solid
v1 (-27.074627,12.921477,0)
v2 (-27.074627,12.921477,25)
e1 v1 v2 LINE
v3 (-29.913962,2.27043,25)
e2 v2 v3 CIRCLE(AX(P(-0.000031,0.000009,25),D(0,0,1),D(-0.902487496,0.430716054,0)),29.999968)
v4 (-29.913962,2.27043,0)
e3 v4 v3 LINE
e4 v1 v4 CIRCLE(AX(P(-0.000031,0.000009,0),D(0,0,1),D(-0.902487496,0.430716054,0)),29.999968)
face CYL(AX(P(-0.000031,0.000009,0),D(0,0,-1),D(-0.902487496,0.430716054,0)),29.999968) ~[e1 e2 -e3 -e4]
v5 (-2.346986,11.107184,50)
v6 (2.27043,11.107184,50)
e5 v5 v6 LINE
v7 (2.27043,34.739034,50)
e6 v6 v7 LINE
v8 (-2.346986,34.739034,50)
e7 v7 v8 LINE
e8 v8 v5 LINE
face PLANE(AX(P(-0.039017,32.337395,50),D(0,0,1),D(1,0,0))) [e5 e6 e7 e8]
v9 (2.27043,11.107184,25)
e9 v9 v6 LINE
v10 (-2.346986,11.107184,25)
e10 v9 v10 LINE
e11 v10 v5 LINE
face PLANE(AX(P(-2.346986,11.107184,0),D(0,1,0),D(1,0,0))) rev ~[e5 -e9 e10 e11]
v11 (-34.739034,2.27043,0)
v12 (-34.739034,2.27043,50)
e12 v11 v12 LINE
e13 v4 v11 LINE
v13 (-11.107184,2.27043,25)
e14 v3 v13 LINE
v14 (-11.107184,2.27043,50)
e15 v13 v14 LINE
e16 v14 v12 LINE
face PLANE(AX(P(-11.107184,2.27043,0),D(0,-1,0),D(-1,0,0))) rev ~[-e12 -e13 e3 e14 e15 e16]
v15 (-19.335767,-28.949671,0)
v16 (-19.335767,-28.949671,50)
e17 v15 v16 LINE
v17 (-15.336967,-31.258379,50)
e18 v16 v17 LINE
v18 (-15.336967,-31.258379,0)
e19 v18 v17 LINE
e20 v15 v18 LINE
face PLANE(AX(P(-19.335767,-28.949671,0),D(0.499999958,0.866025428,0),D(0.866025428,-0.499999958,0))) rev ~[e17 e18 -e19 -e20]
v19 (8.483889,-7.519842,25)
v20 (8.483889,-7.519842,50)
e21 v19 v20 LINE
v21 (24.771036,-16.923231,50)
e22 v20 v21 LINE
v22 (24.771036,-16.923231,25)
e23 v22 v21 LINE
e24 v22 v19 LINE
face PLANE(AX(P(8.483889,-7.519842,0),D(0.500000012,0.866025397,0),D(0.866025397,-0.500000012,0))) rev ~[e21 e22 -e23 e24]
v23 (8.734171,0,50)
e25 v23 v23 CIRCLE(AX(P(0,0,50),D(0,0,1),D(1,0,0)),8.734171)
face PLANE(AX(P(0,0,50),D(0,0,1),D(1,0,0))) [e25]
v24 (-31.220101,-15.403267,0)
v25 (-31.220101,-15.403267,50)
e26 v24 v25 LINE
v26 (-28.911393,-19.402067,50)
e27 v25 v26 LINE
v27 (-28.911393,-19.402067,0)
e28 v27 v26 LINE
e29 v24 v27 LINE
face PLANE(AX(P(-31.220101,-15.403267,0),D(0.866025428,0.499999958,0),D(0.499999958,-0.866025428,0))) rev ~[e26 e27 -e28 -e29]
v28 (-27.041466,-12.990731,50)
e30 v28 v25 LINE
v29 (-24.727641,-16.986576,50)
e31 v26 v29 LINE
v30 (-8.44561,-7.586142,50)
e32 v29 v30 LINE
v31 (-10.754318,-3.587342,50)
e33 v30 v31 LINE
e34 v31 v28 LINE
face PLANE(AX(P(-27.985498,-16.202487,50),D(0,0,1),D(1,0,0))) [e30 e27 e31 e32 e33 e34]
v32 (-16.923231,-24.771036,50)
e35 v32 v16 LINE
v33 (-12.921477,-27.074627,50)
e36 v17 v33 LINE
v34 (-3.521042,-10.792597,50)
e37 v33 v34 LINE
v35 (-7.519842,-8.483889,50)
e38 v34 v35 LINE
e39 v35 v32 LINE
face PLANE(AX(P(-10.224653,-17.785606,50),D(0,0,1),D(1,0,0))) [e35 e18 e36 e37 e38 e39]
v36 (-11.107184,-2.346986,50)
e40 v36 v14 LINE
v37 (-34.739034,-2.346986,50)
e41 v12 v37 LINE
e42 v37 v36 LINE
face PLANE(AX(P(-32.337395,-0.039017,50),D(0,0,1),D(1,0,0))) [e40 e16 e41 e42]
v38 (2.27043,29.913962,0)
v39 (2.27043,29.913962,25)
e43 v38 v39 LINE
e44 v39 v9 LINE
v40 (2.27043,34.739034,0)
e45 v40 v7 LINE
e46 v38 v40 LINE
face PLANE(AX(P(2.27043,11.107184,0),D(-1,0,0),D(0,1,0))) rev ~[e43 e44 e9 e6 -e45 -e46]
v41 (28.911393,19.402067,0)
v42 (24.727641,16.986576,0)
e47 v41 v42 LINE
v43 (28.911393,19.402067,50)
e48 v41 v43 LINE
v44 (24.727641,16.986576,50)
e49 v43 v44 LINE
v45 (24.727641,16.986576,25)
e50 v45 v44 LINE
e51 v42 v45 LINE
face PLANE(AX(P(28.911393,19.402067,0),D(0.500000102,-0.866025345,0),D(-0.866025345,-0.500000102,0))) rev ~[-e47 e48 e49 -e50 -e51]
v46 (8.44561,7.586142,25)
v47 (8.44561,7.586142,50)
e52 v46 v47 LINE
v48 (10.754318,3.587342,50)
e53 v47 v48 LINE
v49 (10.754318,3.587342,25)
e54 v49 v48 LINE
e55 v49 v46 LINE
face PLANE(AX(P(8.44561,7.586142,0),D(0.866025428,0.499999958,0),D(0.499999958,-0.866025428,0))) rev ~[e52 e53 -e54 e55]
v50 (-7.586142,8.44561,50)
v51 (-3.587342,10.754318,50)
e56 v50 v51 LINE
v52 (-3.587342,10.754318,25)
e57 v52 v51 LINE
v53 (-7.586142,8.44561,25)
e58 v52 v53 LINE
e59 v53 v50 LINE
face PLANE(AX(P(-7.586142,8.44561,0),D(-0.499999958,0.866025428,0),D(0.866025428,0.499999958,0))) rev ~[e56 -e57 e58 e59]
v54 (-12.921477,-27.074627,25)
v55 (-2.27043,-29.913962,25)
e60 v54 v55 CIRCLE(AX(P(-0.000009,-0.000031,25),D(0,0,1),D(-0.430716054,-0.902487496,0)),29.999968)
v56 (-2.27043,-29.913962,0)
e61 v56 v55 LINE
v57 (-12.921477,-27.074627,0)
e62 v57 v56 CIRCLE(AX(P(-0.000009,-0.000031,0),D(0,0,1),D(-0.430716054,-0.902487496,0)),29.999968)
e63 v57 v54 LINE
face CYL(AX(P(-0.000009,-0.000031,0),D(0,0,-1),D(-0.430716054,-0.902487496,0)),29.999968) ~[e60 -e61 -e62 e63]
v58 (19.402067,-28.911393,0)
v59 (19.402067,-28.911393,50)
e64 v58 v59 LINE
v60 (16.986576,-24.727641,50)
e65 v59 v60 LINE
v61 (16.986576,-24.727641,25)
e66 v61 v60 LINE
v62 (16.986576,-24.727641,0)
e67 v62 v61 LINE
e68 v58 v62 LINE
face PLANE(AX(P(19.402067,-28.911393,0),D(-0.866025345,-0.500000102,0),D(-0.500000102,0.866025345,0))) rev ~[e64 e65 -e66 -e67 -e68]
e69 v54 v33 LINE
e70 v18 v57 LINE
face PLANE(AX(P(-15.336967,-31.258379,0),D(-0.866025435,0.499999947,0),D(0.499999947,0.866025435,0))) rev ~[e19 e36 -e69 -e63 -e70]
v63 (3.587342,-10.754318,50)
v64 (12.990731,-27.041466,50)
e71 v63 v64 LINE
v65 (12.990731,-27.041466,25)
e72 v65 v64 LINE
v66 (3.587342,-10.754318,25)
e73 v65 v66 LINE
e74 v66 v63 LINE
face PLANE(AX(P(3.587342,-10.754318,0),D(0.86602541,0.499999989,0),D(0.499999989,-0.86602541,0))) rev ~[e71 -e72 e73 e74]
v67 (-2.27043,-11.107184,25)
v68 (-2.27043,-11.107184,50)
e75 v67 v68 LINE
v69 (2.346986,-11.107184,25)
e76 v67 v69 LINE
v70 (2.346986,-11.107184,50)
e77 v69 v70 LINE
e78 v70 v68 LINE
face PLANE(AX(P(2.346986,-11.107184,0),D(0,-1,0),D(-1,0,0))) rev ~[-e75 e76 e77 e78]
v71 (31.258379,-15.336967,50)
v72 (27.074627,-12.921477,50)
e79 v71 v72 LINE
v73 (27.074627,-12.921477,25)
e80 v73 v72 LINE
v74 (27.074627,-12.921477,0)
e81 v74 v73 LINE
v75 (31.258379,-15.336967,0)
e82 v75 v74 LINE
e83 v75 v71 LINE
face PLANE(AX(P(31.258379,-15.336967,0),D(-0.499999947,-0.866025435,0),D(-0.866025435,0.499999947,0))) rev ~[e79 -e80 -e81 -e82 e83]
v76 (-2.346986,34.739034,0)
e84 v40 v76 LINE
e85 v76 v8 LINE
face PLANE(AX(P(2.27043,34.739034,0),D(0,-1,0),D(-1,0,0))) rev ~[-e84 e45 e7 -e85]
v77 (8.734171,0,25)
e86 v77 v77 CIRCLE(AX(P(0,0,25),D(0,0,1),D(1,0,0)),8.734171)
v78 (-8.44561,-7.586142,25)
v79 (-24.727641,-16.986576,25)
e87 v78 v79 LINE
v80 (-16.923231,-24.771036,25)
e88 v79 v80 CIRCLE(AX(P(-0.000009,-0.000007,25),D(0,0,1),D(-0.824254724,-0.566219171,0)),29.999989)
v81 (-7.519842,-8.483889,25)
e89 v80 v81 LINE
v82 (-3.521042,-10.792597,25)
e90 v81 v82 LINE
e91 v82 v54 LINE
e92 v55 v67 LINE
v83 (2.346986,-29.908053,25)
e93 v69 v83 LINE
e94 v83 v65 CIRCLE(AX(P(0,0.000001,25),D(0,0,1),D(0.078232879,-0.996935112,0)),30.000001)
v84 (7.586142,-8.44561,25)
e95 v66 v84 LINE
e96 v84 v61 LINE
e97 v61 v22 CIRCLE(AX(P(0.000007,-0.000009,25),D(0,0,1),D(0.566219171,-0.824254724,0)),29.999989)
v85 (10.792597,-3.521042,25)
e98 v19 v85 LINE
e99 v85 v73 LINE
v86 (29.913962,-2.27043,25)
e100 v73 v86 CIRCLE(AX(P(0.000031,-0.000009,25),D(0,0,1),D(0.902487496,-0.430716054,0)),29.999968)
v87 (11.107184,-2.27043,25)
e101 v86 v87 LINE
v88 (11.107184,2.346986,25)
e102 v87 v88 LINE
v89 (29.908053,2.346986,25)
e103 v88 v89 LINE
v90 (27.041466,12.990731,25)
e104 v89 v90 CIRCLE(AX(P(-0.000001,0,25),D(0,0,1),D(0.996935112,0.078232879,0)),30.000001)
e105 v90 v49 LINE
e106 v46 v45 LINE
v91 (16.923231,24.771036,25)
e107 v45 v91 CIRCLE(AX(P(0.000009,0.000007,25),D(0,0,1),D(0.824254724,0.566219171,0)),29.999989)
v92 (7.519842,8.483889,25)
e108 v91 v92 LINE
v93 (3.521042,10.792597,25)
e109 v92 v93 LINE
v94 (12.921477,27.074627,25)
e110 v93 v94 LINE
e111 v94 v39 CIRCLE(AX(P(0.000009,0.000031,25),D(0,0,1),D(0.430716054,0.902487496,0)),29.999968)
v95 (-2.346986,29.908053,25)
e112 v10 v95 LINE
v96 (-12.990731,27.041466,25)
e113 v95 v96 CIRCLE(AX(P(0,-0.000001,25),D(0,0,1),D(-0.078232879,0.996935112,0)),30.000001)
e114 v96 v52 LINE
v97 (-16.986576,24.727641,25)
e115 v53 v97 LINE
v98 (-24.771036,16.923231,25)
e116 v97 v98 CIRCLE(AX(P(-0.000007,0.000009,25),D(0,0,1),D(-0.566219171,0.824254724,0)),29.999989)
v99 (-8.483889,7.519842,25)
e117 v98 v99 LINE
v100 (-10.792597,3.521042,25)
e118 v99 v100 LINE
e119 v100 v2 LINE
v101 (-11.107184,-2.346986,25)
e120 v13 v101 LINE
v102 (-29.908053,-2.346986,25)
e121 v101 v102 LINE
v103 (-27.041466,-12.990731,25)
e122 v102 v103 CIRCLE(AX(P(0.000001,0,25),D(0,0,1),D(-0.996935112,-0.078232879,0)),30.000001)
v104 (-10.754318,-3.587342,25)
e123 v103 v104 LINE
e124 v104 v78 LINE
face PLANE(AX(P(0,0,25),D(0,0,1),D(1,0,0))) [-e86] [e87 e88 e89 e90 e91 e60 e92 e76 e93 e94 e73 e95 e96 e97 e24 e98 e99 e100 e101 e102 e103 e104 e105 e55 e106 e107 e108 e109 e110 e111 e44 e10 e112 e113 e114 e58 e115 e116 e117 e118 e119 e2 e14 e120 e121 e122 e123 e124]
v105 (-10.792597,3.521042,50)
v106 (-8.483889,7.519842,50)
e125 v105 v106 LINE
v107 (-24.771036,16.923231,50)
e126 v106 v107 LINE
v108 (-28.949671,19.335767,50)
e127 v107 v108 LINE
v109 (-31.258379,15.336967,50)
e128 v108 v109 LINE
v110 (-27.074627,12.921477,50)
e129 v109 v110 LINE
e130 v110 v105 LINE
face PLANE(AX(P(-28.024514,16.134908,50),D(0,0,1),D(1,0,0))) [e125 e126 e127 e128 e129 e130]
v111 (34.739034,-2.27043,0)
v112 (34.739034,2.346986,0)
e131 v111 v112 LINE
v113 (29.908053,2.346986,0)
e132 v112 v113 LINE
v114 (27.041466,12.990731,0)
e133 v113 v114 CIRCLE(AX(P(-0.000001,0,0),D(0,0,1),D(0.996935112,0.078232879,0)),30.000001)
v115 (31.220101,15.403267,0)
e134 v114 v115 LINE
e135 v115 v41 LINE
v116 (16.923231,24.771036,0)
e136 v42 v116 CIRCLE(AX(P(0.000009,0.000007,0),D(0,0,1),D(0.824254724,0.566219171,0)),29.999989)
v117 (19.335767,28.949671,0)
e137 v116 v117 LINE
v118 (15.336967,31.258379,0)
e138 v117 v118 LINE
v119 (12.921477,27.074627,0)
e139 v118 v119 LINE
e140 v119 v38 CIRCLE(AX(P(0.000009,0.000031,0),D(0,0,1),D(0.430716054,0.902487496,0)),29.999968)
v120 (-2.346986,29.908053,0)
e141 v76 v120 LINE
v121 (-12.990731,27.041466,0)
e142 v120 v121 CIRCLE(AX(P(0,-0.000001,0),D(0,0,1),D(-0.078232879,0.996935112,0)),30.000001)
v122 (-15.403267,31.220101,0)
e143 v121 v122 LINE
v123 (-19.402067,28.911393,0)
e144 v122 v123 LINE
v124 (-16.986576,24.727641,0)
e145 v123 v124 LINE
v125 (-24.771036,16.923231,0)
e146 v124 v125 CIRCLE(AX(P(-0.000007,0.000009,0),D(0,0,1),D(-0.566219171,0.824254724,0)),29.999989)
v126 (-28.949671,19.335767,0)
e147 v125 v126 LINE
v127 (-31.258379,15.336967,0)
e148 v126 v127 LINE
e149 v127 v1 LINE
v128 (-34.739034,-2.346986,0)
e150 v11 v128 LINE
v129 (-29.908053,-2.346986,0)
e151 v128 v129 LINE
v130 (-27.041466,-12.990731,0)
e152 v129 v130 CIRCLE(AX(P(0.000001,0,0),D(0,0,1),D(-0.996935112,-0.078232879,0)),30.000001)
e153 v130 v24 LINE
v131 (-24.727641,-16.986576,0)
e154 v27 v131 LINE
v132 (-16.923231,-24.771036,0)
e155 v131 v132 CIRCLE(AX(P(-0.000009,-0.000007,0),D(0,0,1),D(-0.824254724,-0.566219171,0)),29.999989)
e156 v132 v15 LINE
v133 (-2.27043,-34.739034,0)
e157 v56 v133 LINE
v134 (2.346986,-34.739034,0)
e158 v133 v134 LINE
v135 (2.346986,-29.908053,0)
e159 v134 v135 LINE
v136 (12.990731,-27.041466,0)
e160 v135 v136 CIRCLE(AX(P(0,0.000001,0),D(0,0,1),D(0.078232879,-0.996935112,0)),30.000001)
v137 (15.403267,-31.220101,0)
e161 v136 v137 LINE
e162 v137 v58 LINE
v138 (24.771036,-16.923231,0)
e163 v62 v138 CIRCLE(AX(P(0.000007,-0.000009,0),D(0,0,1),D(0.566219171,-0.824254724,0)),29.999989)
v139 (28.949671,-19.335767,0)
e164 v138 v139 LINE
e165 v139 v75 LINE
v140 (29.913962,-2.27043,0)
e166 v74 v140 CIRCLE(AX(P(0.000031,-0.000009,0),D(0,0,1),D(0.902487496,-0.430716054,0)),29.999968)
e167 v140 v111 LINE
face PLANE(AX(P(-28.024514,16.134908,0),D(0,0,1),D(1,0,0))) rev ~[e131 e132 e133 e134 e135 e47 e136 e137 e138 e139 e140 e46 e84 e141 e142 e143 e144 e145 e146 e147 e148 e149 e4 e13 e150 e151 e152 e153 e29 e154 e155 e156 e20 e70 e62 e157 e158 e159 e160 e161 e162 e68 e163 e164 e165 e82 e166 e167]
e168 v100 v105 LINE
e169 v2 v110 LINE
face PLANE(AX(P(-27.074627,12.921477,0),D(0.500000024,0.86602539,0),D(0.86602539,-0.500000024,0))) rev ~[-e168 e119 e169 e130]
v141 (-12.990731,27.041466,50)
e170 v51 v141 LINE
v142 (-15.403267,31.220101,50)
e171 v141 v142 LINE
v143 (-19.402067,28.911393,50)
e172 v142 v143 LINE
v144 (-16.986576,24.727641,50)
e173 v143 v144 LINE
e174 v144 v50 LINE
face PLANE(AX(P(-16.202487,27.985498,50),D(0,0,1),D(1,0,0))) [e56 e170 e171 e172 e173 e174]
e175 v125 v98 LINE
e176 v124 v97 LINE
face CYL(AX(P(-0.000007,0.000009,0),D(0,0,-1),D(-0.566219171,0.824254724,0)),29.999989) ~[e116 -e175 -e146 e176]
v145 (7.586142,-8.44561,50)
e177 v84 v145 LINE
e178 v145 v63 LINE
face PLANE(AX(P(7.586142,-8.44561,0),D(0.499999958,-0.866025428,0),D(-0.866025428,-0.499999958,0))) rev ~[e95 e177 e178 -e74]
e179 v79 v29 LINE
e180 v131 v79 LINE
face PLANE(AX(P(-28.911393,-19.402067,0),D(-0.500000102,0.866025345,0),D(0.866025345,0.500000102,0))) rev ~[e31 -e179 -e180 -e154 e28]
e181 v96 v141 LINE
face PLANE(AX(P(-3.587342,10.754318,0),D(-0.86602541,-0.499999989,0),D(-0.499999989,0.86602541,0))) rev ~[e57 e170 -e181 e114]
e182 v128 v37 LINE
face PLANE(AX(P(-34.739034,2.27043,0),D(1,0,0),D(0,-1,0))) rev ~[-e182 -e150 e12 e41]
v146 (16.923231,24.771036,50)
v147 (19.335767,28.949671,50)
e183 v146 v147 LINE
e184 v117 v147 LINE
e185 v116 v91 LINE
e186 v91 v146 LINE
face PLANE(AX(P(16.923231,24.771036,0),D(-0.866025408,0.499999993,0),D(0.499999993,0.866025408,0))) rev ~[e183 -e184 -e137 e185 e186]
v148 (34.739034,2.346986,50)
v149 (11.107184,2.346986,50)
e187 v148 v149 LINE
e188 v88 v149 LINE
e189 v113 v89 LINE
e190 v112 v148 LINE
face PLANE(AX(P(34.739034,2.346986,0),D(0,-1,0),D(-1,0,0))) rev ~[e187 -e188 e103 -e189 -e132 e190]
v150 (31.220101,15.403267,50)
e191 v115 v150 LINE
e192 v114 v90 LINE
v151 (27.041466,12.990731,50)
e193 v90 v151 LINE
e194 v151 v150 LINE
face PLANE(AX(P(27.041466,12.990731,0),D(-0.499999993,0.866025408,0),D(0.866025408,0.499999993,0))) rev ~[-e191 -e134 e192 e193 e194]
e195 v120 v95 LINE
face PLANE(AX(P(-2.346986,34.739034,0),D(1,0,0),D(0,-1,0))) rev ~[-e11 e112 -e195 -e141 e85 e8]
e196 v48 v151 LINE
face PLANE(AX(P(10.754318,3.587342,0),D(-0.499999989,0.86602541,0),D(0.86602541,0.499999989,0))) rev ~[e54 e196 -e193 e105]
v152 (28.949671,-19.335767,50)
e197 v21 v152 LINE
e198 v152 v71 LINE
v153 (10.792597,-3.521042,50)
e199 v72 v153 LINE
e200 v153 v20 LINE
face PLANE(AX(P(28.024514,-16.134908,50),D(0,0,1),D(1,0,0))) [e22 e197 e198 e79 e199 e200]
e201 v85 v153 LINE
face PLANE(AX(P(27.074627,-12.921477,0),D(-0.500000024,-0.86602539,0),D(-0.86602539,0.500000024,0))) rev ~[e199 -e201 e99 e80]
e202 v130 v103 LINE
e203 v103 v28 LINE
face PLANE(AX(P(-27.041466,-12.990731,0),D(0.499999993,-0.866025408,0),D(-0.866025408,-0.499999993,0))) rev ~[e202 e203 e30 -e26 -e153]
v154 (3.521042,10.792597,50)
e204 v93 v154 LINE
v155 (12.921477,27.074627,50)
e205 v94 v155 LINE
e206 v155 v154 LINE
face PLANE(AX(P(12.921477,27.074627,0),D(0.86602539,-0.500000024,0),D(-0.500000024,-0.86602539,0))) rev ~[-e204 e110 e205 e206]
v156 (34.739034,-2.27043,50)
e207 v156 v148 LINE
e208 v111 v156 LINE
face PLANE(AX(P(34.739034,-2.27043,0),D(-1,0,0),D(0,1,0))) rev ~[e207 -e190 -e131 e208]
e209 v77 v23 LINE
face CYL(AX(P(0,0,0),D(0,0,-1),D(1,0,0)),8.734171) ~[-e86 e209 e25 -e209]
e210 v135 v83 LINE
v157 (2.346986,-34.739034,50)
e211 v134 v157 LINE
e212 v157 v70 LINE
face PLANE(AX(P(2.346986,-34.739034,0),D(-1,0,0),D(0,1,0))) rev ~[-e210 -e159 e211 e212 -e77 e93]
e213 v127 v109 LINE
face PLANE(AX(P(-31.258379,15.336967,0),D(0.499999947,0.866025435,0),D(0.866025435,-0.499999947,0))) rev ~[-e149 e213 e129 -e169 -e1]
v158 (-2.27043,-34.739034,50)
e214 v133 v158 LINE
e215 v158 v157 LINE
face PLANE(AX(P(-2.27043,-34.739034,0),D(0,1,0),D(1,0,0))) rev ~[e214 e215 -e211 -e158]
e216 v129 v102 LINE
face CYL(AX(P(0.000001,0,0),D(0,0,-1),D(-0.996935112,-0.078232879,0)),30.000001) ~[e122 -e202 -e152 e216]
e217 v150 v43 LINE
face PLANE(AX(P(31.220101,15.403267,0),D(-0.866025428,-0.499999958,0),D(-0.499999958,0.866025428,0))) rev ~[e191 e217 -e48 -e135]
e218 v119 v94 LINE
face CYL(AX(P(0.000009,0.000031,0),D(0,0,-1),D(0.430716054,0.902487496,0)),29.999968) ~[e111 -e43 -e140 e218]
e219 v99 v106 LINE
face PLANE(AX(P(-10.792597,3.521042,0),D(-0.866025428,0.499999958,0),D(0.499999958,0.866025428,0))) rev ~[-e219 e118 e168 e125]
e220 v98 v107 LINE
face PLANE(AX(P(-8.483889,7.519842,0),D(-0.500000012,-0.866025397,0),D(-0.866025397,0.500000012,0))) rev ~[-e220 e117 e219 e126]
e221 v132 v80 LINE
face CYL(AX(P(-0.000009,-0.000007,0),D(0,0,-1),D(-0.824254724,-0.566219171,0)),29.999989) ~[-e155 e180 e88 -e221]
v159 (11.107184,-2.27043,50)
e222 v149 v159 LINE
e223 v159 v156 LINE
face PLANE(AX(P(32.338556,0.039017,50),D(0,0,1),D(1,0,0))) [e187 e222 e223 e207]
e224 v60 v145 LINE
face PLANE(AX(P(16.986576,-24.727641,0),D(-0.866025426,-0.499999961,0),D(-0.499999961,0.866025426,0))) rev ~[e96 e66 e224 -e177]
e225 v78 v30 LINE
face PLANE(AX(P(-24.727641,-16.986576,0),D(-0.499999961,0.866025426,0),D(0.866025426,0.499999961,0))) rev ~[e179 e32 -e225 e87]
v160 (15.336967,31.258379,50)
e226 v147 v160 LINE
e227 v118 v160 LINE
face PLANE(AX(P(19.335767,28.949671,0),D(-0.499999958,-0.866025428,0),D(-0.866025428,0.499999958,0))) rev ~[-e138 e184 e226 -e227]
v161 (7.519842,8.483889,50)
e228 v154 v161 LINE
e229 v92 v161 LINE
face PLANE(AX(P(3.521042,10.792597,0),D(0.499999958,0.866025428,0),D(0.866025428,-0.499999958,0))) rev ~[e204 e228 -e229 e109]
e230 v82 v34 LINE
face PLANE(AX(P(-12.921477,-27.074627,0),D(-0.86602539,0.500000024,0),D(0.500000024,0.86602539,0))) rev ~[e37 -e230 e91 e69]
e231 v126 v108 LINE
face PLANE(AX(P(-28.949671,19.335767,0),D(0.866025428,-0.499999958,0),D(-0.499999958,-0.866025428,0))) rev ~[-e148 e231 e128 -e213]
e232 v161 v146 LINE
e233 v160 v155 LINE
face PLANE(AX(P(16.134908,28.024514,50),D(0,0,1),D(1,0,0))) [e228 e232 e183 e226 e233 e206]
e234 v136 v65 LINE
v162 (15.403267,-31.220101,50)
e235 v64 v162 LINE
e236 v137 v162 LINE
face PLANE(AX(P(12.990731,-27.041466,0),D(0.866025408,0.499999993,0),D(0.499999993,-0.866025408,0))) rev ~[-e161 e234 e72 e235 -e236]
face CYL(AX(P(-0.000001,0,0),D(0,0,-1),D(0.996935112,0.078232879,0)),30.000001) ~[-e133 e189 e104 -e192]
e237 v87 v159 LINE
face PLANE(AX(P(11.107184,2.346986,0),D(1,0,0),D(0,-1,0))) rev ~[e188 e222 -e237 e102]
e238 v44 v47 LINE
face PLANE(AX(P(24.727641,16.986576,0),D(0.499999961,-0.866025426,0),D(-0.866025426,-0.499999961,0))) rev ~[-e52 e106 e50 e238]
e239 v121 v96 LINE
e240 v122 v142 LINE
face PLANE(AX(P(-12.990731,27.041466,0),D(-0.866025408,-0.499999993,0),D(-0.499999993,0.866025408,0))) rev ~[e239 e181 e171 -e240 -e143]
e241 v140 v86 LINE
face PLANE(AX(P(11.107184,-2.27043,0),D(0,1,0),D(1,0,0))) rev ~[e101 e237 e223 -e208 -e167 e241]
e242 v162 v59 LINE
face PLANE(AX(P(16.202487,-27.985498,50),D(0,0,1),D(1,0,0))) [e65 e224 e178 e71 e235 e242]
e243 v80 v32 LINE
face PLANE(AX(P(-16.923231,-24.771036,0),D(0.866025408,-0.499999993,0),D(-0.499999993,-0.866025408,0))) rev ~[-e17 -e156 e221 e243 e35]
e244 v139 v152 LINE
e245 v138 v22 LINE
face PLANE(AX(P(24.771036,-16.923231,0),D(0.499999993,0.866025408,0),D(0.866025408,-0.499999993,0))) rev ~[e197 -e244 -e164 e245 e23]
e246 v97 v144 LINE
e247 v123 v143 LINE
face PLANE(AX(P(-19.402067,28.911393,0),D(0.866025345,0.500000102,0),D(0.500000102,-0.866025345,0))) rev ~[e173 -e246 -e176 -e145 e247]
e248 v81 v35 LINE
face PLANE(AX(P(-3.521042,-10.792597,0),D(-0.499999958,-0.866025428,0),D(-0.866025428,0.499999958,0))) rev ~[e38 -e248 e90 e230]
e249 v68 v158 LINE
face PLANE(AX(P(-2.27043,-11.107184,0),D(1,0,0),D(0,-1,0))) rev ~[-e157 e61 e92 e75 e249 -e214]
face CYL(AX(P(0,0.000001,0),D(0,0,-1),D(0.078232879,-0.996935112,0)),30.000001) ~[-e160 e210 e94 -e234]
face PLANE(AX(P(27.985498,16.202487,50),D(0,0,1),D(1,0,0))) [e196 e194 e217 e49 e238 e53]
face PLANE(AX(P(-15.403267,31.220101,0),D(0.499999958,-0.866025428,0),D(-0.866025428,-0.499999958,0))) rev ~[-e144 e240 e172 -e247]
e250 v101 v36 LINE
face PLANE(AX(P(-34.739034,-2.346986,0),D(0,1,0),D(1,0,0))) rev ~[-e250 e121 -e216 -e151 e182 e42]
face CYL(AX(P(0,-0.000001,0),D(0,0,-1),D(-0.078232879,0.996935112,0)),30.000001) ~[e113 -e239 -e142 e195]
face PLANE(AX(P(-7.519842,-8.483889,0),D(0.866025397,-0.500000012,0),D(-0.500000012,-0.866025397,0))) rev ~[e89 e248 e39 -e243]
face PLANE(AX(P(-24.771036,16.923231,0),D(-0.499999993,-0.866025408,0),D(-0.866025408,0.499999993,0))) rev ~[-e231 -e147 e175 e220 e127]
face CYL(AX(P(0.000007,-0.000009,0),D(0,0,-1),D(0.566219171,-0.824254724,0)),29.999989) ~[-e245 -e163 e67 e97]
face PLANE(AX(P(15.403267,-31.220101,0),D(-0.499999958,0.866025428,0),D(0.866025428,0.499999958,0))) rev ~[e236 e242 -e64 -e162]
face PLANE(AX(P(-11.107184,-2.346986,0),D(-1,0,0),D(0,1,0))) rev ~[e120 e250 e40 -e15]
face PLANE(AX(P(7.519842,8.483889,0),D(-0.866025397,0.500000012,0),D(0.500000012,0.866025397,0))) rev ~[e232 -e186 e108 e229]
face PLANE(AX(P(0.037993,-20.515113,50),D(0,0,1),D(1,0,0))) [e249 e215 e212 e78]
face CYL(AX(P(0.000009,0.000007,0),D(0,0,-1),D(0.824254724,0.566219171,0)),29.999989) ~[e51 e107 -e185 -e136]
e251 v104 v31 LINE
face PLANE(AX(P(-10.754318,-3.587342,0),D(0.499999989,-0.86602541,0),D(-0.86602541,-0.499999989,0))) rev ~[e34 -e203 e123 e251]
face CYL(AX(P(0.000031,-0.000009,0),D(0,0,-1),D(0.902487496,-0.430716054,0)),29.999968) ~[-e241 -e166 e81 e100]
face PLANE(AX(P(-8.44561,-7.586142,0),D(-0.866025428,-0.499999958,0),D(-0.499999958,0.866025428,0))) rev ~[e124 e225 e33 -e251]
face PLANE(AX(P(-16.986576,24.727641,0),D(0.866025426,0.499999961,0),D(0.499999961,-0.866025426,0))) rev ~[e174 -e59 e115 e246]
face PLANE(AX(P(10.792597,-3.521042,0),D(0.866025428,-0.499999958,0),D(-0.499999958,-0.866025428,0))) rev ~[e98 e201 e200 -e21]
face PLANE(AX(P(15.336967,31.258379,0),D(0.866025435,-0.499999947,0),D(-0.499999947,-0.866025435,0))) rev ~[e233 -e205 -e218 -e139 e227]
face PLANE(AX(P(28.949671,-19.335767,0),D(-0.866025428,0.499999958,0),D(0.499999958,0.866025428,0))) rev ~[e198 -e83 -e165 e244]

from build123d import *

# Parameters (mm, degrees)
F0_R     = 8.734171
F1_DEPTH = 25
F2_DEPTH = 50


with BuildPart() as f1:
    # F0 (on Top) → F1 (new body)
    with BuildSketch(Plane.XY):
        with BuildLine():
            Line((11.107184, 2.346986), (29.908053, 2.346986))
            ThreePointArc((29.908053, 2.346986), (28.967814, 7.801649), (27.041466, 12.990731))
            Line((27.041466, 12.990731), (10.754318, 3.587342))
            Line((10.754318, 3.587342), (8.44561, 7.586142))
            Line((8.44561, 7.586142), (24.727641, 16.986576))
            ThreePointArc((24.727641, 16.986576), (21.186039, 21.240333), (16.923231, 24.771036))
            Line((16.923231, 24.771036), (7.519842, 8.483889))
            Line((7.519842, 8.483889), (3.521042, 10.792597))
            Line((3.521042, 10.792597), (12.921477, 27.074627))
            ThreePointArc((12.921477, 27.074627), (7.727481, 28.987688), (2.27043, 29.913962))
            Line((2.27043, 29.913962), (2.27043, 11.107184))
            Line((2.27043, 11.107184), (-2.346986, 11.107184))
            Line((-2.346986, 11.107184), (-2.346986, 29.908053))
            ThreePointArc((-2.346986, 29.908053), (-7.801649, 28.967814), (-12.990731, 27.041466))
            Line((-12.990731, 27.041466), (-3.587342, 10.754318))
            Line((-3.587342, 10.754318), (-7.586142, 8.44561))
            Line((-7.586142, 8.44561), (-16.986576, 24.727641))
            ThreePointArc((-16.986576, 24.727641), (-21.240333, 21.186039), (-24.771036, 16.923231))
            Line((-24.771036, 16.923231), (-8.483889, 7.519842))
            Line((-8.483889, 7.519842), (-10.792597, 3.521042))
            Line((-10.792597, 3.521042), (-27.074627, 12.921477))
            ThreePointArc((-27.074627, 12.921477), (-28.987688, 7.727481), (-29.913962, 2.27043))
            Line((-29.913962, 2.27043), (-11.107184, 2.27043))
            Line((-11.107184, 2.27043), (-11.107184, -2.346986))
            Line((-11.107184, -2.346986), (-29.908053, -2.346986))
            ThreePointArc((-29.908053, -2.346986), (-28.967814, -7.801649), (-27.041466, -12.990731))
            Line((-27.041466, -12.990731), (-10.754318, -3.587342))
            Line((-10.754318, -3.587342), (-8.44561, -7.586142))
            Line((-8.44561, -7.586142), (-24.727641, -16.986576))
            ThreePointArc((-24.727641, -16.986576), (-21.186039, -21.240333), (-16.923231, -24.771036))
            Line((-16.923231, -24.771036), (-7.519842, -8.483889))
            Line((-7.519842, -8.483889), (-3.521042, -10.792597))
            Line((-3.521042, -10.792597), (-12.921477, -27.074627))
            ThreePointArc((-12.921477, -27.074627), (-7.727481, -28.987688), (-2.27043, -29.913962))
            Line((-2.27043, -29.913962), (-2.27043, -11.107184))
            Line((-2.27043, -11.107184), (2.346986, -11.107184))
            Line((2.346986, -11.107184), (2.346986, -29.908053))
            ThreePointArc((2.346986, -29.908053), (7.801649, -28.967814), (12.990731, -27.041466))
            Line((12.990731, -27.041466), (3.587342, -10.754318))
            Line((3.587342, -10.754318), (7.586142, -8.44561))
            Line((7.586142, -8.44561), (16.986576, -24.727641))
            ThreePointArc((16.986576, -24.727641), (21.240333, -21.186039), (24.771036, -16.923231))
            Line((24.771036, -16.923231), (8.483889, -7.519842))
            Line((8.483889, -7.519842), (10.792597, -3.521042))
            Line((10.792597, -3.521042), (27.074627, -12.921477))
            ThreePointArc((27.074627, -12.921477), (28.987688, -7.727481), (29.913962, -2.27043))
            Line((29.913962, -2.27043), (11.107184, -2.27043))
            Line((11.107184, -2.27043), (11.107184, 2.346986))
        make_face()
        Circle(F0_R, mode=Mode.SUBTRACT)
    extrude(amount=F1_DEPTH)

    # F0 (on Top) → F2 (join)
    with BuildSketch(Plane.XY):
        with BuildLine():
            ThreePointArc((-27.074627, 12.921477), (-25.999937, 14.966739), (-24.771036, 16.923231))
            Line((-24.771036, 16.923231), (-28.949671, 19.335767))
            Line((-28.949671, 19.335767), (-31.258379, 15.336967))
            Line((-31.258379, 15.336967), (-27.074627, 12.921477))
        make_face()
        with BuildLine():
            ThreePointArc((-16.986576, 24.727641), (-15.033236, 25.961545), (-12.990731, 27.041466))
            Line((-12.990731, 27.041466), (-15.403267, 31.220101))
            Line((-15.403267, 31.220101), (-19.402067, 28.911393))
            Line((-19.402067, 28.911393), (-16.986576, 24.727641))
        make_face()
        with BuildLine():
            ThreePointArc((-2.346986, 29.908053), (-0.038392, 29.999975), (2.27043, 29.913962))
            Line((2.27043, 29.913962), (2.27043, 34.739034))
            Line((2.27043, 34.739034), (-2.346986, 34.739034))
            Line((-2.346986, 34.739034), (-2.346986, 29.908053))
        make_face()
        with BuildLine():
            ThreePointArc((12.921477, 27.074627), (14.966739, 25.999937), (16.923231, 24.771036))
            Line((16.923231, 24.771036), (19.335767, 28.949671))
            Line((19.335767, 28.949671), (15.336967, 31.258379))
            Line((15.336967, 31.258379), (12.921477, 27.074627))
        make_face()
        with BuildLine():
            ThreePointArc((24.727641, 16.986576), (25.961545, 15.033236), (27.041466, 12.990731))
            Line((27.041466, 12.990731), (31.220101, 15.403267))
            Line((31.220101, 15.403267), (28.911393, 19.402067))
            Line((28.911393, 19.402067), (24.727641, 16.986576))
        make_face()
        with BuildLine():
            ThreePointArc((29.908053, 2.346986), (29.977005, 1.174393), (30, 0))
            ThreePointArc((30, 0), (29.978483, -1.13603), (29.913962, -2.27043))
            Line((29.913962, -2.27043), (34.739034, -2.27043))
            Line((34.739034, -2.27043), (34.739034, 2.346986))
            Line((34.739034, 2.346986), (29.908053, 2.346986))
        make_face()
        with BuildLine():
            Line((31.258379, -15.336967), (27.074627, -12.921477))
            ThreePointArc((27.074627, -12.921477), (25.999937, -14.966739), (24.771036, -16.923231))
            Line((24.771036, -16.923231), (28.949671, -19.335767))
            Line((28.949671, -19.335767), (31.258379, -15.336967))
        make_face()
        with BuildLine():
            Line((19.402067, -28.911393), (16.986576, -24.727641))
            ThreePointArc((16.986576, -24.727641), (15.033236, -25.961545), (12.990731, -27.041466))
            Line((12.990731, -27.041466), (15.403267, -31.220101))
            Line((15.403267, -31.220101), (19.402067, -28.911393))
        make_face()
        with BuildLine():
            ThreePointArc((12.990731, -27.041466), (15.033236, -25.961545), (16.986576, -24.727641))
            Line((16.986576, -24.727641), (7.586142, -8.44561))
            Line((7.586142, -8.44561), (3.587342, -10.754318))
            Line((3.587342, -10.754318), (12.990731, -27.041466))
        make_face()
        with BuildLine():
            ThreePointArc((24.771036, -16.923231), (25.999937, -14.966739), (27.074627, -12.921477))
            Line((27.074627, -12.921477), (10.792597, -3.521042))
            Line((10.792597, -3.521042), (8.483889, -7.519842))
            Line((8.483889, -7.519842), (24.771036, -16.923231))
        make_face()
        with BuildLine():
            ThreePointArc((29.913962, -2.27043), (29.978483, -1.13603), (30, 0))
            ThreePointArc((30, 0), (29.977005, 1.174393), (29.908053, 2.346986))
            Line((29.908053, 2.346986), (11.107184, 2.346986))
            Line((11.107184, 2.346986), (11.107184, -2.27043))
            Line((11.107184, -2.27043), (29.913962, -2.27043))
        make_face()
        with BuildLine():
            Line((10.754318, 3.587342), (27.041466, 12.990731))
            ThreePointArc((27.041466, 12.990731), (25.961545, 15.033236), (24.727641, 16.986576))
            Line((24.727641, 16.986576), (8.44561, 7.586142))
            Line((8.44561, 7.586142), (10.754318, 3.587342))
        make_face()
        with BuildLine():
            Line((7.519842, 8.483889), (16.923231, 24.771036))
            ThreePointArc((16.923231, 24.771036), (14.966739, 25.999937), (12.921477, 27.074627))
            Line((12.921477, 27.074627), (3.521042, 10.792597))
            Line((3.521042, 10.792597), (7.519842, 8.483889))
        make_face()
        with BuildLine():
            Line((2.27043, 11.107184), (2.27043, 29.913962))
            ThreePointArc((2.27043, 29.913962), (-0.038392, 29.999975), (-2.346986, 29.908053))
            Line((-2.346986, 29.908053), (-2.346986, 11.107184))
            Line((-2.346986, 11.107184), (2.27043, 11.107184))
        make_face()
        with BuildLine():
            Line((-3.587342, 10.754318), (-12.990731, 27.041466))
            ThreePointArc((-12.990731, 27.041466), (-15.033236, 25.961545), (-16.986576, 24.727641))
            Line((-16.986576, 24.727641), (-7.586142, 8.44561))
            Line((-7.586142, 8.44561), (-3.587342, 10.754318))
        make_face()
        with BuildLine():
            Line((-8.483889, 7.519842), (-24.771036, 16.923231))
            ThreePointArc((-24.771036, 16.923231), (-25.999937, 14.966739), (-27.074627, 12.921477))
            Line((-27.074627, 12.921477), (-10.792597, 3.521042))
            Line((-10.792597, 3.521042), (-8.483889, 7.519842))
        make_face()
        with BuildLine():
            ThreePointArc((-29.908053, -2.346986), (-29.999975, -0.038392), (-29.913962, 2.27043))
            Line((-29.913962, 2.27043), (-34.739034, 2.27043))
            Line((-34.739034, 2.27043), (-34.739034, -2.346986))
            Line((-34.739034, -2.346986), (-29.908053, -2.346986))
        make_face()
        with BuildLine():
            Line((-28.911393, -19.402067), (-24.727641, -16.986576))
            ThreePointArc((-24.727641, -16.986576), (-25.961545, -15.033236), (-27.041466, -12.990731))
            Line((-27.041466, -12.990731), (-31.220101, -15.403267))
            Line((-31.220101, -15.403267), (-28.911393, -19.402067))
        make_face()
        with BuildLine():
            ThreePointArc((-27.041466, -12.990731), (-25.961545, -15.033236), (-24.727641, -16.986576))
            Line((-24.727641, -16.986576), (-8.44561, -7.586142))
            Line((-8.44561, -7.586142), (-10.754318, -3.587342))
            Line((-10.754318, -3.587342), (-27.041466, -12.990731))
        make_face()
        with BuildLine():
            ThreePointArc((-16.923231, -24.771036), (-14.966739, -25.999937), (-12.921477, -27.074627))
            Line((-12.921477, -27.074627), (-3.521042, -10.792597))
            Line((-3.521042, -10.792597), (-7.519842, -8.483889))
            Line((-7.519842, -8.483889), (-16.923231, -24.771036))
        make_face()
        with BuildLine():
            Line((-15.336967, -31.258379), (-12.921477, -27.074627))
            ThreePointArc((-12.921477, -27.074627), (-14.966739, -25.999937), (-16.923231, -24.771036))
            Line((-16.923231, -24.771036), (-19.335767, -28.949671))
            Line((-19.335767, -28.949671), (-15.336967, -31.258379))
        make_face()
        with BuildLine():
            ThreePointArc((-2.27043, -29.913962), (0.038392, -29.999975), (2.346986, -29.908053))
            Line((2.346986, -29.908053), (2.346986, -11.107184))
            Line((2.346986, -11.107184), (-2.27043, -11.107184))
            Line((-2.27043, -11.107184), (-2.27043, -29.913962))
        make_face()
        with BuildLine():
            Line((2.346986, -34.739034), (2.346986, -29.908053))
            ThreePointArc((2.346986, -29.908053), (0.038392, -29.999975), (-2.27043, -29.913962))
            Line((-2.27043, -29.913962), (-2.27043, -34.739034))
            Line((-2.27043, -34.739034), (2.346986, -34.739034))
        make_face()
        Circle(F0_R)
        with BuildLine():
            Line((-11.107184, 2.27043), (-29.913962, 2.27043))
            ThreePointArc((-29.913962, 2.27043), (-29.999975, -0.038392), (-29.908053, -2.346986))
            Line((-29.908053, -2.346986), (-11.107184, -2.346986))
            Line((-11.107184, -2.346986), (-11.107184, 2.27043))
        make_face()
    extrude(amount=F2_DEPTH)


solid = f1.part
